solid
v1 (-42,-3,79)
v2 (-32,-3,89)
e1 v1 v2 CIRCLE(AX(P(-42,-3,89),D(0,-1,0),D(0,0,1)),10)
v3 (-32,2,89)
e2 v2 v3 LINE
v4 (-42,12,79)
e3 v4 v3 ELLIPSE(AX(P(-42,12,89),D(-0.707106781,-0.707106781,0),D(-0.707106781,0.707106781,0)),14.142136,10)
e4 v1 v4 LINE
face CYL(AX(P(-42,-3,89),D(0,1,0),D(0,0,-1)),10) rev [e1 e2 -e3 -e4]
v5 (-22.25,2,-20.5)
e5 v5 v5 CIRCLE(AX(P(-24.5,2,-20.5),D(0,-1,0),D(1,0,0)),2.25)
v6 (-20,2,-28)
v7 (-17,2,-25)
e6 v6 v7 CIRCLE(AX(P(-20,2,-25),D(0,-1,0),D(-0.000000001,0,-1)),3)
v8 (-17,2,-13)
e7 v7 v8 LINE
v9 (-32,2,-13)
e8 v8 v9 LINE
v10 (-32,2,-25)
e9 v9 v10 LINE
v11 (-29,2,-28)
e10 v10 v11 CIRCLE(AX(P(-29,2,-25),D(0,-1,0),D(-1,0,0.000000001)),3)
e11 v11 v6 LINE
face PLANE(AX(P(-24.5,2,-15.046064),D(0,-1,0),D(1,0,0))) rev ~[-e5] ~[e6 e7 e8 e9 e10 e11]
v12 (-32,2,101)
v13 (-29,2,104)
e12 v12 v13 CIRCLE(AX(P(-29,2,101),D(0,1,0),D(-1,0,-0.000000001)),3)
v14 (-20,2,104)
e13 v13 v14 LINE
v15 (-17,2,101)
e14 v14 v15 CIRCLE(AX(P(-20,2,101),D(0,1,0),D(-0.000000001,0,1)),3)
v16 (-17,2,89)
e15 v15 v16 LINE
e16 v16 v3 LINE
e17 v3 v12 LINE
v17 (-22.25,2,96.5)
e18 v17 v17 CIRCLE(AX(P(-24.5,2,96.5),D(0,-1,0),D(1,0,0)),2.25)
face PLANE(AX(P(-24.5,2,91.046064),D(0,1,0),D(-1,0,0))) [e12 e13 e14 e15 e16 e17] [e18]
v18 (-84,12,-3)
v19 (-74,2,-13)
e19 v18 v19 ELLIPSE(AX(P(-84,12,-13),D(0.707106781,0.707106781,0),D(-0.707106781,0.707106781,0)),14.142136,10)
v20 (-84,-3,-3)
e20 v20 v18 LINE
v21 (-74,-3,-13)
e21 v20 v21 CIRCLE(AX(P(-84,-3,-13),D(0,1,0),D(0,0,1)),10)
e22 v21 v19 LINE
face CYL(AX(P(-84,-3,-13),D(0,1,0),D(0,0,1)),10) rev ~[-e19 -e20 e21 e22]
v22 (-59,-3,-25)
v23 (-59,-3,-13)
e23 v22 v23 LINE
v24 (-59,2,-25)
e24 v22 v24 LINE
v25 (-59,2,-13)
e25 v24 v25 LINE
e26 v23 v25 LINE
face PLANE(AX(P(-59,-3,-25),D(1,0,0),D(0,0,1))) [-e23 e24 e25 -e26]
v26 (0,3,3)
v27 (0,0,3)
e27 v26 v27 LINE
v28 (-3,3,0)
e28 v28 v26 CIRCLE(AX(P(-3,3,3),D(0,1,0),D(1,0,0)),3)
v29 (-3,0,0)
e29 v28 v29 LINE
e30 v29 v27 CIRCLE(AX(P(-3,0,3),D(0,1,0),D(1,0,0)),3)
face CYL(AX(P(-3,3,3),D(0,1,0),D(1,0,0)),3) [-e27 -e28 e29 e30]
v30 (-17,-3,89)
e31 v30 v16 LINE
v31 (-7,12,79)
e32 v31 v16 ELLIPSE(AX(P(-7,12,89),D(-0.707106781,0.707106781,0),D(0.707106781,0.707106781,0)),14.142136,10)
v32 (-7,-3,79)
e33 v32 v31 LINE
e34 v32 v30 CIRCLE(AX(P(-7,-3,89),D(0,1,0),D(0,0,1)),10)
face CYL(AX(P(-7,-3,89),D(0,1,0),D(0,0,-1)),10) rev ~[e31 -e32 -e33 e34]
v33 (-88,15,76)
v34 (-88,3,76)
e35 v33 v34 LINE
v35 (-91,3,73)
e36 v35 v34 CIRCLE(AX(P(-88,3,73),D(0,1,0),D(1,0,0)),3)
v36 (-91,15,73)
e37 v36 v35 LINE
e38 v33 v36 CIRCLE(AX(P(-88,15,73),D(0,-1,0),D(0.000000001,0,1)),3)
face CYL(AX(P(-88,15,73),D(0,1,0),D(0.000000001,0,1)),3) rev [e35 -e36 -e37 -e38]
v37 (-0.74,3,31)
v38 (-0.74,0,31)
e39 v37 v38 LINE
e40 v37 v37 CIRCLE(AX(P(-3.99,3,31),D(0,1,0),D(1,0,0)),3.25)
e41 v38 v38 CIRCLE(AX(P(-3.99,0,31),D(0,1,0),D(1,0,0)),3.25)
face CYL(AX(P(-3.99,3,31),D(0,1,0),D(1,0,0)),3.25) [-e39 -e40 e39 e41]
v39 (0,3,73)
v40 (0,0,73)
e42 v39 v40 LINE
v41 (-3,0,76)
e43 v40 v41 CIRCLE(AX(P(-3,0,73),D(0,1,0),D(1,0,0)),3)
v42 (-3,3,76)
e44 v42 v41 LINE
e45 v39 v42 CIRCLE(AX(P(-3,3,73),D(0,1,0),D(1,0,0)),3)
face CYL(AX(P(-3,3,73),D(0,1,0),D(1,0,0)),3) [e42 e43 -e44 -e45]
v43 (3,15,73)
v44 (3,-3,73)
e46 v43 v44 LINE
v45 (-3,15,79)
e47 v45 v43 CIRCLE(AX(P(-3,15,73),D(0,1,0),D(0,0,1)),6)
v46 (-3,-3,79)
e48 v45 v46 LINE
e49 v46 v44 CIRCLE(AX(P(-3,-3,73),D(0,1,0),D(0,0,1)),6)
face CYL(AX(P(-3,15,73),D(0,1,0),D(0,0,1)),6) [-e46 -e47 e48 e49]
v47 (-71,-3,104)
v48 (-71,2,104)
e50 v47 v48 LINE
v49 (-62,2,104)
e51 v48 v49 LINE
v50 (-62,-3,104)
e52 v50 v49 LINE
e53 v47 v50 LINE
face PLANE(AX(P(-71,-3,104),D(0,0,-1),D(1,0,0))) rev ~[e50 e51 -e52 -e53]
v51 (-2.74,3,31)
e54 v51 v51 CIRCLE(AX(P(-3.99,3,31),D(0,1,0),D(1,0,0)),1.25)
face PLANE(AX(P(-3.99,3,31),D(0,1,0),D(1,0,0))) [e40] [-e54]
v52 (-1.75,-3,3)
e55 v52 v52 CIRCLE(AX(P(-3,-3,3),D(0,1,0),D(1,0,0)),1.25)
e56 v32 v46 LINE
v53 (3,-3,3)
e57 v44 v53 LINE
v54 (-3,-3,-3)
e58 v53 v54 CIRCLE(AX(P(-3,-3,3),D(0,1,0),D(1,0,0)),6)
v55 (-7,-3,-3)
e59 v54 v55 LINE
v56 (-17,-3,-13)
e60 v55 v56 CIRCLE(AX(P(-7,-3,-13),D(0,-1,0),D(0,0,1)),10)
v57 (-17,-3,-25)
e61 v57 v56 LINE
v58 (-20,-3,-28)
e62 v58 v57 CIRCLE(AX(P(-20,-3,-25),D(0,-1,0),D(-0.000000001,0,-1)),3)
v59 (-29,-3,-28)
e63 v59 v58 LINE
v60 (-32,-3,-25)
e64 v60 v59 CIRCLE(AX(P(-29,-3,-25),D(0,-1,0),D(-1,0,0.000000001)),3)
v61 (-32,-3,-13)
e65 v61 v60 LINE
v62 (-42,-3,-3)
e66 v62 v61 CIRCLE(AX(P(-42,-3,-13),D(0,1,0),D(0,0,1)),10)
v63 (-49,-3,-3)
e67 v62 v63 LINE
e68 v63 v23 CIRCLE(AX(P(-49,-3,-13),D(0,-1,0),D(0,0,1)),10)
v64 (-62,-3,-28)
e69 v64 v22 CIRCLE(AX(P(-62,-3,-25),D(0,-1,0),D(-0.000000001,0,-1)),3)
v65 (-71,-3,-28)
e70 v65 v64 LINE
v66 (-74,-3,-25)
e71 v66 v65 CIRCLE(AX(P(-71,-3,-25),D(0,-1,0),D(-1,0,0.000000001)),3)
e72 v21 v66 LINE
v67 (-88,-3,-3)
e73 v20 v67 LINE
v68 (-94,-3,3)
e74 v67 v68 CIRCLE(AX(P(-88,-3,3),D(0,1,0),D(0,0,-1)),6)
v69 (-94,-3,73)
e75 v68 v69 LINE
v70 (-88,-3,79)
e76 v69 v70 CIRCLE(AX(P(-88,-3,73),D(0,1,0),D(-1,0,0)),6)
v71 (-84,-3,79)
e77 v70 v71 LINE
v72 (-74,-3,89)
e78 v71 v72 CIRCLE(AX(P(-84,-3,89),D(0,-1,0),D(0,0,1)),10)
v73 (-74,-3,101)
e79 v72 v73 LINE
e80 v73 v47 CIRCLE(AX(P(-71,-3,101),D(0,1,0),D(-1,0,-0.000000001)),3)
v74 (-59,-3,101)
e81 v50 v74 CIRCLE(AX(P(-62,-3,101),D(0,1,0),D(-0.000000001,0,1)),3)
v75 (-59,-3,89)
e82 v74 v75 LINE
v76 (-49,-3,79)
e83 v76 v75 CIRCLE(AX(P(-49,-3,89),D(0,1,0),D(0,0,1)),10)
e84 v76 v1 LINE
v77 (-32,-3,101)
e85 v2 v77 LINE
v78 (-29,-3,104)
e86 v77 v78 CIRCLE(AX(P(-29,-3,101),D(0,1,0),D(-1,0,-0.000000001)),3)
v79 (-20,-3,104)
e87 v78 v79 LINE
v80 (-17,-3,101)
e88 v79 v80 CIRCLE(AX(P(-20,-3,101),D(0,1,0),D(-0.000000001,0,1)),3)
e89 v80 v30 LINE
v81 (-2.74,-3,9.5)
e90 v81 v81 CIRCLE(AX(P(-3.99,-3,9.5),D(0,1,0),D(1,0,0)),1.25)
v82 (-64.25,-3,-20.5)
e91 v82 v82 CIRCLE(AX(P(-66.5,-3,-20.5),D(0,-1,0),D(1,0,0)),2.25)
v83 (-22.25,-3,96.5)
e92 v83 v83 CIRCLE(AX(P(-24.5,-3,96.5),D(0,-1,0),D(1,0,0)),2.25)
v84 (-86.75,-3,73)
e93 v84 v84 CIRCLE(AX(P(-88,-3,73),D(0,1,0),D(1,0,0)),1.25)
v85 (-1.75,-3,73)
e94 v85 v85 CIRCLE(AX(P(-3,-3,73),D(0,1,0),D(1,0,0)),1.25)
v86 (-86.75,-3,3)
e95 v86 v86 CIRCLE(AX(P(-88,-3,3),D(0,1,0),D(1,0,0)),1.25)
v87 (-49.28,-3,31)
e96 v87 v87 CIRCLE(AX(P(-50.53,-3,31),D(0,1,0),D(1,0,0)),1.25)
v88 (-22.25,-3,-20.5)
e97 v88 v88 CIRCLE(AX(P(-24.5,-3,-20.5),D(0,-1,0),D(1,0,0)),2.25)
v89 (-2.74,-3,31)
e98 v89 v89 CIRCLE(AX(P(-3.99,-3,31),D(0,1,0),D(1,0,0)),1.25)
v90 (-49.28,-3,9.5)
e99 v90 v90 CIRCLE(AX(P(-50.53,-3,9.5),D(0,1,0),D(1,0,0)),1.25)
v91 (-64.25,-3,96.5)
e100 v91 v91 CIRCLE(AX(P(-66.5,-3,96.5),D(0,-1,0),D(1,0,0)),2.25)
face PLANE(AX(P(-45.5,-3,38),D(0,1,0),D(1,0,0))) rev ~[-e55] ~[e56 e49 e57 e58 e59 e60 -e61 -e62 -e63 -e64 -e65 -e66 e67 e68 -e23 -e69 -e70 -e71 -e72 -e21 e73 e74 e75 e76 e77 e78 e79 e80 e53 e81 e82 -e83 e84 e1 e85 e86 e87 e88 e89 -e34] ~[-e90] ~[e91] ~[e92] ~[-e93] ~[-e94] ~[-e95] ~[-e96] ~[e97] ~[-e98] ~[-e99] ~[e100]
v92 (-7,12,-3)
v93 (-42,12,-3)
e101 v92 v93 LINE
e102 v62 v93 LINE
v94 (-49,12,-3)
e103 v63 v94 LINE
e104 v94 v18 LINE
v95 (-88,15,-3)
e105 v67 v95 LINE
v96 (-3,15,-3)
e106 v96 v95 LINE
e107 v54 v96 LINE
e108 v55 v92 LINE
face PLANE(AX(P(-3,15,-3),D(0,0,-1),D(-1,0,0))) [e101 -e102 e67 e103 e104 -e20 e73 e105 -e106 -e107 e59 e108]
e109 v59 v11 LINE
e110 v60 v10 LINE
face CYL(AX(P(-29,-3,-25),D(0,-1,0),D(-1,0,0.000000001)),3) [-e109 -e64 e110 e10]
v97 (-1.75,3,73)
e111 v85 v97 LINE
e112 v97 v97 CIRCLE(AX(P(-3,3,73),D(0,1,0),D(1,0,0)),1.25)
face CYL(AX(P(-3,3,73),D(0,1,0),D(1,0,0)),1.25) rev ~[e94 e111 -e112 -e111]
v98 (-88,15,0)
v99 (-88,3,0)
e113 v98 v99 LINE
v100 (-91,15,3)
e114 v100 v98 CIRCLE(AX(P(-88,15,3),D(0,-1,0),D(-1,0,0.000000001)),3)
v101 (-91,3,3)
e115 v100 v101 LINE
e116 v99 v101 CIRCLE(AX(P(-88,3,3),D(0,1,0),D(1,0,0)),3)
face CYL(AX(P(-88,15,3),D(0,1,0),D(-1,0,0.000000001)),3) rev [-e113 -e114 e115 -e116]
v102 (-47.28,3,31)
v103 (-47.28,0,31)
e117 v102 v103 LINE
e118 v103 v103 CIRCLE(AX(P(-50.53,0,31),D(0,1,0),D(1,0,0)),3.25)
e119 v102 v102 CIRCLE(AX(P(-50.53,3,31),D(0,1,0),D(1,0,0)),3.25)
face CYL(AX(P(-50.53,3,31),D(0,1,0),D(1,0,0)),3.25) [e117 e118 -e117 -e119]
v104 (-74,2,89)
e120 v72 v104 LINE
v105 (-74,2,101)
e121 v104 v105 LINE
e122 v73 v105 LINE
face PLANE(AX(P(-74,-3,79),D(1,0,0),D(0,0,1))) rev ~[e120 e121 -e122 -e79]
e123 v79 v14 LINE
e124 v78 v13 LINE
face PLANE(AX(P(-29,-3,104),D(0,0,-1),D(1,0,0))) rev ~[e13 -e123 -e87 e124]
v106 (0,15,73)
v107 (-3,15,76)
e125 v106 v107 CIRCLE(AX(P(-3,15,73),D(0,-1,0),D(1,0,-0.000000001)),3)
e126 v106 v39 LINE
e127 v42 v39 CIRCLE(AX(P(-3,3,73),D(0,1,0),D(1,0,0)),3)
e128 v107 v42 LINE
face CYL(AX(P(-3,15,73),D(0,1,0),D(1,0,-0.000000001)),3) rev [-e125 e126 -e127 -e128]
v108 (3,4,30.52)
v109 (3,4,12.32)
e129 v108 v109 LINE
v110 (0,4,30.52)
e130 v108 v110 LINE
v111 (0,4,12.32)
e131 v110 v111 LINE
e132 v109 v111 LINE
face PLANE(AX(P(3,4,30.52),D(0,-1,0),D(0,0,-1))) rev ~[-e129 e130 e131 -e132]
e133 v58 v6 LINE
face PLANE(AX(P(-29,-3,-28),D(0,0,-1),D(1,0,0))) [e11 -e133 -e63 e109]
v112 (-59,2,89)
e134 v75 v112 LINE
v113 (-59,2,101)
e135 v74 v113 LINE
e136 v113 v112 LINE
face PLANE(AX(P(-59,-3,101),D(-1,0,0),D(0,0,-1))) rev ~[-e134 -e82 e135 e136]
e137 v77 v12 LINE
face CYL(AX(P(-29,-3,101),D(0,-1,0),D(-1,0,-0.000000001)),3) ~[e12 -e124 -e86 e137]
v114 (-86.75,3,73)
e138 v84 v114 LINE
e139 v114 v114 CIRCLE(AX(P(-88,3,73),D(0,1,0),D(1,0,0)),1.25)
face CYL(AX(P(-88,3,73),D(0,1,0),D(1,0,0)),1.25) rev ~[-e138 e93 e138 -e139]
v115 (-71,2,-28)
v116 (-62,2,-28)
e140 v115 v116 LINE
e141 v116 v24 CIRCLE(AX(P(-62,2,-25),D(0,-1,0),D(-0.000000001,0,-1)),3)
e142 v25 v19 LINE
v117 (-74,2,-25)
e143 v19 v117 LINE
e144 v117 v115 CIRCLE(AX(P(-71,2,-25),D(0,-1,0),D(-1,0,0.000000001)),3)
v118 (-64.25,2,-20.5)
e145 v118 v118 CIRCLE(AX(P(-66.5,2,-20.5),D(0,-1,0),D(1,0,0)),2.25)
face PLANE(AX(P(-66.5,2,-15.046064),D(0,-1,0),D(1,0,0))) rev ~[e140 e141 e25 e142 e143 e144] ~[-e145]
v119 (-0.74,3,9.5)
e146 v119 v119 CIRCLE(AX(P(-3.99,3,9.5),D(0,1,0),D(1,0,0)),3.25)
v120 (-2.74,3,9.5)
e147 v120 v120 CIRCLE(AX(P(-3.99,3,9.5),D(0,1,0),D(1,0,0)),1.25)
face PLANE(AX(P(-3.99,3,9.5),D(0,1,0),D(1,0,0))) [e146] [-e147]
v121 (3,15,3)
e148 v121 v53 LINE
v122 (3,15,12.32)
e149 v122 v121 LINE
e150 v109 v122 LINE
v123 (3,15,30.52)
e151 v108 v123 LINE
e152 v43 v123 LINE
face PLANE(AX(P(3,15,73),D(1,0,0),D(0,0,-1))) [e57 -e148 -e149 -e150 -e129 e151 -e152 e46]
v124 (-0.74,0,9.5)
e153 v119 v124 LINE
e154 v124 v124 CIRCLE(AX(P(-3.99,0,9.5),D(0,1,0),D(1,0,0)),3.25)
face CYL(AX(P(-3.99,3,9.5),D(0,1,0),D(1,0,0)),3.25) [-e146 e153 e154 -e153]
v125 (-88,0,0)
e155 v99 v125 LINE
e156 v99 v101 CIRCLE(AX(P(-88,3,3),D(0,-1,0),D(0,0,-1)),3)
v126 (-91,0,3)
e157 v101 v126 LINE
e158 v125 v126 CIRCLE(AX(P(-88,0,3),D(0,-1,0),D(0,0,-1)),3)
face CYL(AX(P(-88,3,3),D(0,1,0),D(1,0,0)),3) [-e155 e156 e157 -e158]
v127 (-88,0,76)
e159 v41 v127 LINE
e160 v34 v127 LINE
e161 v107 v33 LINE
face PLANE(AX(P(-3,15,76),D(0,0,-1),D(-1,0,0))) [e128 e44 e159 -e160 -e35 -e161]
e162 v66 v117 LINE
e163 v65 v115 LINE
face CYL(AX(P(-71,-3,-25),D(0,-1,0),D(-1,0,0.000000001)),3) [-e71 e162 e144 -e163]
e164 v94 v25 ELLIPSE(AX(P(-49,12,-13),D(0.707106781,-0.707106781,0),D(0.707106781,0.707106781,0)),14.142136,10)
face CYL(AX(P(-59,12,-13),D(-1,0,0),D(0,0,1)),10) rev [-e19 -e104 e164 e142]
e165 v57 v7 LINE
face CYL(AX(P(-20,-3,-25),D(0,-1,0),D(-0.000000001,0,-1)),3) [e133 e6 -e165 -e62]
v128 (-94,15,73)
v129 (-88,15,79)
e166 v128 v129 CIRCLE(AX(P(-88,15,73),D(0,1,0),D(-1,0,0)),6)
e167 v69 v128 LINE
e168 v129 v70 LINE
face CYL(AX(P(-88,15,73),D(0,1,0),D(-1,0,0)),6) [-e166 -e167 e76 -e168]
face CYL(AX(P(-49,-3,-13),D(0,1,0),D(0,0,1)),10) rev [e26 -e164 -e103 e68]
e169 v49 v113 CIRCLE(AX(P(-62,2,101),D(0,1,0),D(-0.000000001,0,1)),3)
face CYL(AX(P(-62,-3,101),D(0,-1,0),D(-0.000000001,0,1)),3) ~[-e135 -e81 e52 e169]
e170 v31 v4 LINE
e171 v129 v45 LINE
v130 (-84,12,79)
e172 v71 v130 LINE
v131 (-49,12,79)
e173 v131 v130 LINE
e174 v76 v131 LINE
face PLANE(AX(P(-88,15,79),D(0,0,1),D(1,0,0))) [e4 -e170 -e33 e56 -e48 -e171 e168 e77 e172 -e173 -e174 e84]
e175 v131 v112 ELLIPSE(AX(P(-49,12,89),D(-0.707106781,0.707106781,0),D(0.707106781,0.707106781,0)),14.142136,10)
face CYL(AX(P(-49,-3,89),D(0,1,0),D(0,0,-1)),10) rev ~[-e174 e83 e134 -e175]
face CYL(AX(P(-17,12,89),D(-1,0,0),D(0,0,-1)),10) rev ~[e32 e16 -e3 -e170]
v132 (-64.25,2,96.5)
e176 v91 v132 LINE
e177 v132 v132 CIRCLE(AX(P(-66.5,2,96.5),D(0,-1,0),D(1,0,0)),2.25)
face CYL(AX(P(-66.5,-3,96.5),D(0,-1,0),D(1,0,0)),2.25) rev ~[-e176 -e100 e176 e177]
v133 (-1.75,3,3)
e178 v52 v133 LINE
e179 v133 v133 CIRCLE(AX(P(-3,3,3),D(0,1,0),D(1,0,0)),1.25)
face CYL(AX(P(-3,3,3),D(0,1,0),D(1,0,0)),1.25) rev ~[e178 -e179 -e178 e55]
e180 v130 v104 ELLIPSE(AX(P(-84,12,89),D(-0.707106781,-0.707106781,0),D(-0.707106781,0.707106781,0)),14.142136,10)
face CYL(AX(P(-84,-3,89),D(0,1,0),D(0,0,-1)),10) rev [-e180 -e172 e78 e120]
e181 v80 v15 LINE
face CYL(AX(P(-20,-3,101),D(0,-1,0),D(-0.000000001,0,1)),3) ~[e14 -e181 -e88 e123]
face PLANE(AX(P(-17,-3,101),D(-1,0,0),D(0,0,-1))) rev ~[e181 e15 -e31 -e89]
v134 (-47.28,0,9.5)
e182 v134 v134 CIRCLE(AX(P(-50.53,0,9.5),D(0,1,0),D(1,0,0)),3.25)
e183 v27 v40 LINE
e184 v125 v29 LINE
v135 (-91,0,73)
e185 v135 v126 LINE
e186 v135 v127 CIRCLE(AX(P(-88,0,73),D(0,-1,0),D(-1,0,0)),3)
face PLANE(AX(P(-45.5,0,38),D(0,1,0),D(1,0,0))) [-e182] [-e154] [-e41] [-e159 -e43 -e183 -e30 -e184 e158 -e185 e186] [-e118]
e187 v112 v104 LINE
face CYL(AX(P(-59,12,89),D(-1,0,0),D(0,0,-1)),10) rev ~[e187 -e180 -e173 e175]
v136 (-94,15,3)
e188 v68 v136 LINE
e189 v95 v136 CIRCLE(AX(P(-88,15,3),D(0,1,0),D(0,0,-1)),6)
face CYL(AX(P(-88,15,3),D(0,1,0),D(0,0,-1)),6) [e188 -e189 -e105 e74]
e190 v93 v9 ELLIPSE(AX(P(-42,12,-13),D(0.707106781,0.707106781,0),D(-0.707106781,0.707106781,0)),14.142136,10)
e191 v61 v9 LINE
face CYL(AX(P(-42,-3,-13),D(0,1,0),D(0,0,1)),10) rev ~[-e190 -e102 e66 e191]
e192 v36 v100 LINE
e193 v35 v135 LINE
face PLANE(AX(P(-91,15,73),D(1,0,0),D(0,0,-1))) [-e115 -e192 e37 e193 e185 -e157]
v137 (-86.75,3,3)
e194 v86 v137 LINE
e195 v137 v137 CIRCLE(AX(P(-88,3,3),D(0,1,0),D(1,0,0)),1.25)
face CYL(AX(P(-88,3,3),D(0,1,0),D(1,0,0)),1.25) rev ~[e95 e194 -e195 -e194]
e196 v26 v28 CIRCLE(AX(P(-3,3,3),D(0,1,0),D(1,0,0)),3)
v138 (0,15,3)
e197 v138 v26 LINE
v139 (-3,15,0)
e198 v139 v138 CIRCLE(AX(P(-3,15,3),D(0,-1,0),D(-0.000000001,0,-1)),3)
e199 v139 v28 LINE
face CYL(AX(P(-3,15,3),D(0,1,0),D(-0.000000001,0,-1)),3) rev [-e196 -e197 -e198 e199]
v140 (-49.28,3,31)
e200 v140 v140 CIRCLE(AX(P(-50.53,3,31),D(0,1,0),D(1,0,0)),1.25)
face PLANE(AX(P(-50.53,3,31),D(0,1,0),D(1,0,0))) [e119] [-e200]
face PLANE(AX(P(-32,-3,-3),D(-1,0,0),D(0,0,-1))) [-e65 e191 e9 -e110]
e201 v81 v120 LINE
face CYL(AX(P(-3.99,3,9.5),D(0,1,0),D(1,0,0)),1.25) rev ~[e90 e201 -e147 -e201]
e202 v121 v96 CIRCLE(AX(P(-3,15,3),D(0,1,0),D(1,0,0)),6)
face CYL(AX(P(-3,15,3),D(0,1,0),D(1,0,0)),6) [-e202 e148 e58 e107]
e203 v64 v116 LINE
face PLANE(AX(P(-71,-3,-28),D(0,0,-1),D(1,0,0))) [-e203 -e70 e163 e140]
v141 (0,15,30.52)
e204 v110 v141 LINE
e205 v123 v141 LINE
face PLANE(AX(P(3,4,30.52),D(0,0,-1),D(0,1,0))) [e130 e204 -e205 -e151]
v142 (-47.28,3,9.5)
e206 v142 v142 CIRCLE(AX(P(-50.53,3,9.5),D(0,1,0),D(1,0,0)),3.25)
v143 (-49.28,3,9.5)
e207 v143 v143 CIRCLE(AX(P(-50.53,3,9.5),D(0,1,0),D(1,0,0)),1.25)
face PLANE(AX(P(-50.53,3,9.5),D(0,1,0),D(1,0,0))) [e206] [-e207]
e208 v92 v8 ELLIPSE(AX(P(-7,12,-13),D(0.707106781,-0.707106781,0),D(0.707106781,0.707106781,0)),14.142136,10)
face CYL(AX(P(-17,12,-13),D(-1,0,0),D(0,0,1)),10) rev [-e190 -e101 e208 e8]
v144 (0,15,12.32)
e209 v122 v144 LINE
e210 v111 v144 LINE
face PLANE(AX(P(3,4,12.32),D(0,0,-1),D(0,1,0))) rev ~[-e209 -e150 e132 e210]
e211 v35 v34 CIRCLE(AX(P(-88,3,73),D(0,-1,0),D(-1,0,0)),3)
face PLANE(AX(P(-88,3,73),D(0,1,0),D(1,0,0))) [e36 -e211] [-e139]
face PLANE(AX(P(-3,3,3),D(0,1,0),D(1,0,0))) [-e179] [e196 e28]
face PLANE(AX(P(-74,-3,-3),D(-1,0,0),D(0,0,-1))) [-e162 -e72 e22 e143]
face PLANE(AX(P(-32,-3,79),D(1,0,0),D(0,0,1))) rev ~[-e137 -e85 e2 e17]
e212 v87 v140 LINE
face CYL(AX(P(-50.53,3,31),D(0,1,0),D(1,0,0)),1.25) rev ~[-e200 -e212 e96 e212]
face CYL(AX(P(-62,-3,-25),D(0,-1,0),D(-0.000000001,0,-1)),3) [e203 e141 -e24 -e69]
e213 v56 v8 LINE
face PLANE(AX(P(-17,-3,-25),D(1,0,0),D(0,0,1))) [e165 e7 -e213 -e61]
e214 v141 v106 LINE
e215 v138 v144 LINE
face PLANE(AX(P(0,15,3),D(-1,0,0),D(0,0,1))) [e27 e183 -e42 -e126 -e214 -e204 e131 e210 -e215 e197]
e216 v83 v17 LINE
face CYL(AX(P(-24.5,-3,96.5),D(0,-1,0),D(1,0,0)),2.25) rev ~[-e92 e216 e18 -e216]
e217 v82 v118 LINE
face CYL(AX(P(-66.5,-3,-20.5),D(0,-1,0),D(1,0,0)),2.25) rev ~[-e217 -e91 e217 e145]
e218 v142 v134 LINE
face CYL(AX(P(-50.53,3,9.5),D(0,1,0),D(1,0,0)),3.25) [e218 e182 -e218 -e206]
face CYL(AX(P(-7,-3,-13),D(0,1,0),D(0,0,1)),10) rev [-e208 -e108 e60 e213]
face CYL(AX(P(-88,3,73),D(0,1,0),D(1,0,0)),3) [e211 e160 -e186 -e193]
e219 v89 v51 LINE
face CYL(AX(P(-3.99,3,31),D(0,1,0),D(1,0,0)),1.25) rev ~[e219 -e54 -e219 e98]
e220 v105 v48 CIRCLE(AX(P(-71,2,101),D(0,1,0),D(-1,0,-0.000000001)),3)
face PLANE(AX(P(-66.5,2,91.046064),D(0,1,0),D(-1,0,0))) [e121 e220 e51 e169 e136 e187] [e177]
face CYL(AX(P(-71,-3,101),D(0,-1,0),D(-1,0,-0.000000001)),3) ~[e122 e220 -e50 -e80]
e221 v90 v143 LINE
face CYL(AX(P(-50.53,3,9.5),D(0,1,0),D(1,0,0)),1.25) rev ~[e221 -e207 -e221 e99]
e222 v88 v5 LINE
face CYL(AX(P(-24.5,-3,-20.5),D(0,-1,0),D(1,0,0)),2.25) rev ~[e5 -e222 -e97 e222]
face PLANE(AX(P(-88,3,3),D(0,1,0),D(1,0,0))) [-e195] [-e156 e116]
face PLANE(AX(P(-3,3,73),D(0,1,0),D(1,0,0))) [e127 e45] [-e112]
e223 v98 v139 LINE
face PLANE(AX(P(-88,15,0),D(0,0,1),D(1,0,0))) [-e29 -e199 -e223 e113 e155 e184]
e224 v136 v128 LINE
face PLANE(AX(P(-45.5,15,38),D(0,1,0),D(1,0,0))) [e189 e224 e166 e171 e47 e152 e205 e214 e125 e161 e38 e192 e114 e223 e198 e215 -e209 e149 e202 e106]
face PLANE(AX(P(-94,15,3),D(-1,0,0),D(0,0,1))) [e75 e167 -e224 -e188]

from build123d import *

# Parameters (mm, degrees)
BOSS_EXTRUDE1_DEPTH = 3
BOSS_EXTRUDE2_START = 15
BOSS_EXTRUDE2_DEPTH = 15
BOSS_EXTRUDE3_START = 3
SKETCH1_5_R         = 3
SKETCH1_5_R_2       = 1.25
SKETCH1_5_R_3       = 3.25
BOSS_EXTRUDE3_DEPTH = 3
SKETCH1_6_R         = 1.25
CUT_EXTRUDE1_DEPTH  = 124.701253025
CUT_EXTRUDE2_REACH  = 127.996
SKETCH3_W           = 18.2
SKETCH3_H           = 11
SKETCH4_R           = 2.25
BOSS_EXTRUDE4_DEPTH = 5
FILLET1_R           = 10


with BuildPart() as part:
    # Sketch1 → Boss-Extrude1 (new body)
    with BuildSketch(Plane(origin=(0, 0, 0), x_dir=(1, 0, 0), z_dir=(0, 1, 0))):
        with BuildLine():
            Line((-3, 3), (-88, 3))
            ThreePointArc((-88, 3), (-92.242640687, 1.242640687), (-94, -3))
            Line((-94, -3), (-94, -73))
            ThreePointArc((-94, -73), (-92.242640687, -77.242640687), (-88, -79))
            Line((-88, -79), (-3, -79))
            ThreePointArc((-3, -79), (1.242640687, -77.242640687), (3, -73))
            Line((3, -73), (3, -3))
            ThreePointArc((3, -3), (1.242640687, 1.242640687), (-3, 3))
        make_face()
    extrude(amount=-BOSS_EXTRUDE1_DEPTH)

    # Sketch1<4> → Boss-Extrude2 (add)
    with BuildSketch(Plane(origin=(0, 0, 0), x_dir=(1, 0, 0), z_dir=(0, 1, 0)).offset(BOSS_EXTRUDE2_START)):
        with BuildLine():
            ThreePointArc((3, -3), (1.242640687, 1.242640687), (-3, 3))
            Line((-3, 3), (-88, 3))
            ThreePointArc((-88, 3), (-92.242640687, 1.242640687), (-94, -3))
            Line((-94, -3), (-94, -73))
            ThreePointArc((-94, -73), (-92.242640687, -77.242640687), (-88, -79))
            Line((-88, -79), (-3, -79))
            ThreePointArc((-3, -79), (1.242640687, -77.242640687), (3, -73))
            Line((3, -73), (3, -3))
        make_face()
        with BuildLine():
            Line((-88, 0), (-3, 0))
            ThreePointArc((-3, 0), (-0.878679656, -0.878679656), (0, -3))
            Line((0, -3), (0, -73))
            ThreePointArc((0, -73), (-0.878679656, -75.121320344), (-3, -76))
            Line((-3, -76), (-88, -76))
            ThreePointArc((-88, -76), (-90.121320344, -75.121320344), (-91, -73))
            Line((-91, -73), (-91, -3))
            ThreePointArc((-91, -3), (-90.121320344, -0.878679656), (-88, 0))
        make_face(mode=Mode.SUBTRACT)
    extrude(amount=-BOSS_EXTRUDE2_DEPTH)

    # Sketch1<5> → Boss-Extrude3 (add)
    # profile 1 of 8: a face of its own
    with BuildSketch(Plane(origin=(0, 0, 0), x_dir=(1, 0, 0), z_dir=(0, 1, 0)).offset(BOSS_EXTRUDE3_START)):
        with Locations((-3, -3)):
            Circle(SKETCH1_5_R)
        with Locations((-3, -3)):
            Circle(SKETCH1_5_R_2, mode=Mode.SUBTRACT)
    # profile 2 of 8: a face of its own
    with BuildSketch(Plane(origin=(0, 0, 0), x_dir=(1, 0, 0), z_dir=(0, 1, 0)).offset(BOSS_EXTRUDE3_START)):
        with Locations((-88, -3)):
            Circle(SKETCH1_5_R)
        with Locations((-88, -3)):
            Circle(SKETCH1_5_R_2, mode=Mode.SUBTRACT)
    # profile 3 of 8: a face of its own
    with BuildSketch(Plane(origin=(0, 0, 0), x_dir=(1, 0, 0), z_dir=(0, 1, 0)).offset(BOSS_EXTRUDE3_START)):
        with Locations((-3, -73)):
            Circle(SKETCH1_5_R)
        with Locations((-3, -73)):
            Circle(SKETCH1_5_R_2, mode=Mode.SUBTRACT)
    # profile 4 of 8: a face of its own
    with BuildSketch(Plane(origin=(0, 0, 0), x_dir=(1, 0, 0), z_dir=(0, 1, 0)).offset(BOSS_EXTRUDE3_START)):
        with Locations((-88, -73)):
            Circle(SKETCH1_5_R)
        with Locations((-88, -73)):
            Circle(SKETCH1_5_R_2, mode=Mode.SUBTRACT)
    # profile 5 of 8: a face of its own
    with BuildSketch(Plane(origin=(0, 0, 0), x_dir=(1, 0, 0), z_dir=(0, 1, 0)).offset(BOSS_EXTRUDE3_START)):
        with Locations((-3.99, -9.5)):
            Circle(SKETCH1_5_R_3)
        with Locations((-3.99, -9.5)):
            Circle(SKETCH1_5_R_2, mode=Mode.SUBTRACT)
    # profile 6 of 8: a face of its own
    with BuildSketch(Plane(origin=(0, 0, 0), x_dir=(1, 0, 0), z_dir=(0, 1, 0)).offset(BOSS_EXTRUDE3_START)):
        with Locations((-3.99, -31)):
            Circle(SKETCH1_5_R_3)
        with Locations((-3.99, -31)):
            Circle(SKETCH1_5_R_2, mode=Mode.SUBTRACT)
    # profile 7 of 8: a face of its own
    with BuildSketch(Plane(origin=(0, 0, 0), x_dir=(1, 0, 0), z_dir=(0, 1, 0)).offset(BOSS_EXTRUDE3_START)):
        with Locations((-50.53, -31)):
            Circle(SKETCH1_5_R_3)
        with Locations((-50.53, -31)):
            Circle(SKETCH1_5_R_2, mode=Mode.SUBTRACT)
    # profile 8 of 8: a face of its own
    with BuildSketch(Plane(origin=(0, 0, 0), x_dir=(1, 0, 0), z_dir=(0, 1, 0)).offset(BOSS_EXTRUDE3_START)):
        with Locations((-50.53, -9.5)):
            Circle(SKETCH1_5_R_3)
        with Locations((-50.53, -9.5)):
            Circle(SKETCH1_5_R_2, mode=Mode.SUBTRACT)
    extrude(amount=-BOSS_EXTRUDE3_DEPTH)

    # Sketch1<6> → Cut-Extrude1 (cut, through all)
    with BuildSketch(Plane(origin=(0, 0, 0), x_dir=(1, 0, 0), z_dir=(0, 1, 0))):
        with Locations((-3.99, -9.5)):
            Circle(SKETCH1_6_R)
        with Locations((-50.53, -9.5)):
            Circle(SKETCH1_6_R)
        with Locations((-3.99, -31)):
            Circle(SKETCH1_6_R)
        with Locations((-50.53, -31)):
            Circle(SKETCH1_6_R)
        with Locations((-3, -3)):
            Circle(SKETCH1_6_R)
        with Locations((-88, -3)):
            Circle(SKETCH1_6_R)
        with Locations((-88, -73)):
            Circle(SKETCH1_6_R)
        with Locations((-3, -73)):
            Circle(SKETCH1_6_R)
    extrude(amount=-CUT_EXTRUDE1_DEPTH, mode=Mode.SUBTRACT)

    # Sketch3 → Cut-Extrude2 (cut, up to next)
    with BuildSketch(Plane(origin=(3, 0, 0), x_dir=(0, 0, -1), z_dir=(1, 0, 0)), mode=Mode.PRIVATE) as cut_extrude2_sk1:
        with Locations((-21.42, 9.5)):
            Rectangle(SKETCH3_W, SKETCH3_H)
    cut_extrude2_tool1 = extrude(cut_extrude2_sk1.sketch, amount=-CUT_EXTRUDE2_REACH, mode=Mode.PRIVATE) & part.part
    add(cut_extrude2_tool1.solids().sort_by_distance((3, 9.5, 21.42))[0], mode=Mode.SUBTRACT)

    # Sketch4 → Boss-Extrude4 (add)
    # profile 1 of 4: a face of its own
    with BuildSketch(Plane.XZ.offset(3)):
        with BuildLine():
            Line((-17, 79), (-32, 79))
            Line((-32, 79), (-32, 101))
            ThreePointArc((-32, 101), (-31.121320344, 103.121320344), (-29, 104))
            Line((-29, 104), (-20, 104))
            ThreePointArc((-20, 104), (-17.878679656, 103.121320344), (-17, 101))
            Line((-17, 101), (-17, 79))
        make_face()
        with Locations((-24.5, 96.5)):
            Circle(SKETCH4_R, mode=Mode.SUBTRACT)
    # profile 2 of 4: a face of its own
    with BuildSketch(Plane.XZ.offset(3)):
        with BuildLine():
            Line((-17, -3), (-32, -3))
            Line((-32, -3), (-32, -25))
            ThreePointArc((-32, -25), (-31.121320344, -27.121320344), (-29, -28))
            Line((-29, -28), (-20, -28))
            ThreePointArc((-20, -28), (-17.878679656, -27.121320344), (-17, -25))
            Line((-17, -25), (-17, -3))
        make_face()
        with Locations((-24.5, -20.5)):
            Circle(SKETCH4_R, mode=Mode.SUBTRACT)
    # profile 3 of 4: a face of its own
    with BuildSketch(Plane.XZ.offset(3)):
        with BuildLine():
            Line((-59, 79), (-74, 79))
            Line((-74, 79), (-74, 101))
            ThreePointArc((-74, 101), (-73.121320344, 103.121320344), (-71, 104))
            Line((-71, 104), (-62, 104))
            ThreePointArc((-62, 104), (-59.878679656, 103.121320344), (-59, 101))
            Line((-59, 101), (-59, 79))
        make_face()
        with Locations((-66.5, 96.5)):
            Circle(SKETCH4_R, mode=Mode.SUBTRACT)
    # profile 4 of 4: a face of its own
    with BuildSketch(Plane.XZ.offset(3)):
        with BuildLine():
            Line((-59, -3), (-74, -3))
            Line((-74, -3), (-74, -25))
            ThreePointArc((-74, -25), (-73.121320344, -27.121320344), (-71, -28))
            Line((-71, -28), (-62, -28))
            ThreePointArc((-62, -28), (-59.878679656, -27.121320344), (-59, -25))
            Line((-59, -25), (-59, -3))
        make_face()
        with Locations((-66.5, -20.5)):
            Circle(SKETCH4_R, mode=Mode.SUBTRACT)
    extrude(amount=-BOSS_EXTRUDE4_DEPTH)

    # Fillet1
    fillet1_edges = [part.edges().sort_by_distance(p)[0] for p in [
        (-17, -0.5, 79),
        (-24.5, 2, 79),
        (-32, -0.5, 79),
        (-59, -0.5, 79),
        (-66.5, 2, 79),
        (-74, -0.5, 79),
        (-74, -0.5, -3),
        (-17, -0.5, -3),
        (-32, -0.5, -3),
        (-59, -0.5, -3),
        (-66.5, 2, -3),
        (-24.5, 2, -3),
    ]]
    fillet(fillet1_edges, radius=FILLET1_R)


solid = part.part
